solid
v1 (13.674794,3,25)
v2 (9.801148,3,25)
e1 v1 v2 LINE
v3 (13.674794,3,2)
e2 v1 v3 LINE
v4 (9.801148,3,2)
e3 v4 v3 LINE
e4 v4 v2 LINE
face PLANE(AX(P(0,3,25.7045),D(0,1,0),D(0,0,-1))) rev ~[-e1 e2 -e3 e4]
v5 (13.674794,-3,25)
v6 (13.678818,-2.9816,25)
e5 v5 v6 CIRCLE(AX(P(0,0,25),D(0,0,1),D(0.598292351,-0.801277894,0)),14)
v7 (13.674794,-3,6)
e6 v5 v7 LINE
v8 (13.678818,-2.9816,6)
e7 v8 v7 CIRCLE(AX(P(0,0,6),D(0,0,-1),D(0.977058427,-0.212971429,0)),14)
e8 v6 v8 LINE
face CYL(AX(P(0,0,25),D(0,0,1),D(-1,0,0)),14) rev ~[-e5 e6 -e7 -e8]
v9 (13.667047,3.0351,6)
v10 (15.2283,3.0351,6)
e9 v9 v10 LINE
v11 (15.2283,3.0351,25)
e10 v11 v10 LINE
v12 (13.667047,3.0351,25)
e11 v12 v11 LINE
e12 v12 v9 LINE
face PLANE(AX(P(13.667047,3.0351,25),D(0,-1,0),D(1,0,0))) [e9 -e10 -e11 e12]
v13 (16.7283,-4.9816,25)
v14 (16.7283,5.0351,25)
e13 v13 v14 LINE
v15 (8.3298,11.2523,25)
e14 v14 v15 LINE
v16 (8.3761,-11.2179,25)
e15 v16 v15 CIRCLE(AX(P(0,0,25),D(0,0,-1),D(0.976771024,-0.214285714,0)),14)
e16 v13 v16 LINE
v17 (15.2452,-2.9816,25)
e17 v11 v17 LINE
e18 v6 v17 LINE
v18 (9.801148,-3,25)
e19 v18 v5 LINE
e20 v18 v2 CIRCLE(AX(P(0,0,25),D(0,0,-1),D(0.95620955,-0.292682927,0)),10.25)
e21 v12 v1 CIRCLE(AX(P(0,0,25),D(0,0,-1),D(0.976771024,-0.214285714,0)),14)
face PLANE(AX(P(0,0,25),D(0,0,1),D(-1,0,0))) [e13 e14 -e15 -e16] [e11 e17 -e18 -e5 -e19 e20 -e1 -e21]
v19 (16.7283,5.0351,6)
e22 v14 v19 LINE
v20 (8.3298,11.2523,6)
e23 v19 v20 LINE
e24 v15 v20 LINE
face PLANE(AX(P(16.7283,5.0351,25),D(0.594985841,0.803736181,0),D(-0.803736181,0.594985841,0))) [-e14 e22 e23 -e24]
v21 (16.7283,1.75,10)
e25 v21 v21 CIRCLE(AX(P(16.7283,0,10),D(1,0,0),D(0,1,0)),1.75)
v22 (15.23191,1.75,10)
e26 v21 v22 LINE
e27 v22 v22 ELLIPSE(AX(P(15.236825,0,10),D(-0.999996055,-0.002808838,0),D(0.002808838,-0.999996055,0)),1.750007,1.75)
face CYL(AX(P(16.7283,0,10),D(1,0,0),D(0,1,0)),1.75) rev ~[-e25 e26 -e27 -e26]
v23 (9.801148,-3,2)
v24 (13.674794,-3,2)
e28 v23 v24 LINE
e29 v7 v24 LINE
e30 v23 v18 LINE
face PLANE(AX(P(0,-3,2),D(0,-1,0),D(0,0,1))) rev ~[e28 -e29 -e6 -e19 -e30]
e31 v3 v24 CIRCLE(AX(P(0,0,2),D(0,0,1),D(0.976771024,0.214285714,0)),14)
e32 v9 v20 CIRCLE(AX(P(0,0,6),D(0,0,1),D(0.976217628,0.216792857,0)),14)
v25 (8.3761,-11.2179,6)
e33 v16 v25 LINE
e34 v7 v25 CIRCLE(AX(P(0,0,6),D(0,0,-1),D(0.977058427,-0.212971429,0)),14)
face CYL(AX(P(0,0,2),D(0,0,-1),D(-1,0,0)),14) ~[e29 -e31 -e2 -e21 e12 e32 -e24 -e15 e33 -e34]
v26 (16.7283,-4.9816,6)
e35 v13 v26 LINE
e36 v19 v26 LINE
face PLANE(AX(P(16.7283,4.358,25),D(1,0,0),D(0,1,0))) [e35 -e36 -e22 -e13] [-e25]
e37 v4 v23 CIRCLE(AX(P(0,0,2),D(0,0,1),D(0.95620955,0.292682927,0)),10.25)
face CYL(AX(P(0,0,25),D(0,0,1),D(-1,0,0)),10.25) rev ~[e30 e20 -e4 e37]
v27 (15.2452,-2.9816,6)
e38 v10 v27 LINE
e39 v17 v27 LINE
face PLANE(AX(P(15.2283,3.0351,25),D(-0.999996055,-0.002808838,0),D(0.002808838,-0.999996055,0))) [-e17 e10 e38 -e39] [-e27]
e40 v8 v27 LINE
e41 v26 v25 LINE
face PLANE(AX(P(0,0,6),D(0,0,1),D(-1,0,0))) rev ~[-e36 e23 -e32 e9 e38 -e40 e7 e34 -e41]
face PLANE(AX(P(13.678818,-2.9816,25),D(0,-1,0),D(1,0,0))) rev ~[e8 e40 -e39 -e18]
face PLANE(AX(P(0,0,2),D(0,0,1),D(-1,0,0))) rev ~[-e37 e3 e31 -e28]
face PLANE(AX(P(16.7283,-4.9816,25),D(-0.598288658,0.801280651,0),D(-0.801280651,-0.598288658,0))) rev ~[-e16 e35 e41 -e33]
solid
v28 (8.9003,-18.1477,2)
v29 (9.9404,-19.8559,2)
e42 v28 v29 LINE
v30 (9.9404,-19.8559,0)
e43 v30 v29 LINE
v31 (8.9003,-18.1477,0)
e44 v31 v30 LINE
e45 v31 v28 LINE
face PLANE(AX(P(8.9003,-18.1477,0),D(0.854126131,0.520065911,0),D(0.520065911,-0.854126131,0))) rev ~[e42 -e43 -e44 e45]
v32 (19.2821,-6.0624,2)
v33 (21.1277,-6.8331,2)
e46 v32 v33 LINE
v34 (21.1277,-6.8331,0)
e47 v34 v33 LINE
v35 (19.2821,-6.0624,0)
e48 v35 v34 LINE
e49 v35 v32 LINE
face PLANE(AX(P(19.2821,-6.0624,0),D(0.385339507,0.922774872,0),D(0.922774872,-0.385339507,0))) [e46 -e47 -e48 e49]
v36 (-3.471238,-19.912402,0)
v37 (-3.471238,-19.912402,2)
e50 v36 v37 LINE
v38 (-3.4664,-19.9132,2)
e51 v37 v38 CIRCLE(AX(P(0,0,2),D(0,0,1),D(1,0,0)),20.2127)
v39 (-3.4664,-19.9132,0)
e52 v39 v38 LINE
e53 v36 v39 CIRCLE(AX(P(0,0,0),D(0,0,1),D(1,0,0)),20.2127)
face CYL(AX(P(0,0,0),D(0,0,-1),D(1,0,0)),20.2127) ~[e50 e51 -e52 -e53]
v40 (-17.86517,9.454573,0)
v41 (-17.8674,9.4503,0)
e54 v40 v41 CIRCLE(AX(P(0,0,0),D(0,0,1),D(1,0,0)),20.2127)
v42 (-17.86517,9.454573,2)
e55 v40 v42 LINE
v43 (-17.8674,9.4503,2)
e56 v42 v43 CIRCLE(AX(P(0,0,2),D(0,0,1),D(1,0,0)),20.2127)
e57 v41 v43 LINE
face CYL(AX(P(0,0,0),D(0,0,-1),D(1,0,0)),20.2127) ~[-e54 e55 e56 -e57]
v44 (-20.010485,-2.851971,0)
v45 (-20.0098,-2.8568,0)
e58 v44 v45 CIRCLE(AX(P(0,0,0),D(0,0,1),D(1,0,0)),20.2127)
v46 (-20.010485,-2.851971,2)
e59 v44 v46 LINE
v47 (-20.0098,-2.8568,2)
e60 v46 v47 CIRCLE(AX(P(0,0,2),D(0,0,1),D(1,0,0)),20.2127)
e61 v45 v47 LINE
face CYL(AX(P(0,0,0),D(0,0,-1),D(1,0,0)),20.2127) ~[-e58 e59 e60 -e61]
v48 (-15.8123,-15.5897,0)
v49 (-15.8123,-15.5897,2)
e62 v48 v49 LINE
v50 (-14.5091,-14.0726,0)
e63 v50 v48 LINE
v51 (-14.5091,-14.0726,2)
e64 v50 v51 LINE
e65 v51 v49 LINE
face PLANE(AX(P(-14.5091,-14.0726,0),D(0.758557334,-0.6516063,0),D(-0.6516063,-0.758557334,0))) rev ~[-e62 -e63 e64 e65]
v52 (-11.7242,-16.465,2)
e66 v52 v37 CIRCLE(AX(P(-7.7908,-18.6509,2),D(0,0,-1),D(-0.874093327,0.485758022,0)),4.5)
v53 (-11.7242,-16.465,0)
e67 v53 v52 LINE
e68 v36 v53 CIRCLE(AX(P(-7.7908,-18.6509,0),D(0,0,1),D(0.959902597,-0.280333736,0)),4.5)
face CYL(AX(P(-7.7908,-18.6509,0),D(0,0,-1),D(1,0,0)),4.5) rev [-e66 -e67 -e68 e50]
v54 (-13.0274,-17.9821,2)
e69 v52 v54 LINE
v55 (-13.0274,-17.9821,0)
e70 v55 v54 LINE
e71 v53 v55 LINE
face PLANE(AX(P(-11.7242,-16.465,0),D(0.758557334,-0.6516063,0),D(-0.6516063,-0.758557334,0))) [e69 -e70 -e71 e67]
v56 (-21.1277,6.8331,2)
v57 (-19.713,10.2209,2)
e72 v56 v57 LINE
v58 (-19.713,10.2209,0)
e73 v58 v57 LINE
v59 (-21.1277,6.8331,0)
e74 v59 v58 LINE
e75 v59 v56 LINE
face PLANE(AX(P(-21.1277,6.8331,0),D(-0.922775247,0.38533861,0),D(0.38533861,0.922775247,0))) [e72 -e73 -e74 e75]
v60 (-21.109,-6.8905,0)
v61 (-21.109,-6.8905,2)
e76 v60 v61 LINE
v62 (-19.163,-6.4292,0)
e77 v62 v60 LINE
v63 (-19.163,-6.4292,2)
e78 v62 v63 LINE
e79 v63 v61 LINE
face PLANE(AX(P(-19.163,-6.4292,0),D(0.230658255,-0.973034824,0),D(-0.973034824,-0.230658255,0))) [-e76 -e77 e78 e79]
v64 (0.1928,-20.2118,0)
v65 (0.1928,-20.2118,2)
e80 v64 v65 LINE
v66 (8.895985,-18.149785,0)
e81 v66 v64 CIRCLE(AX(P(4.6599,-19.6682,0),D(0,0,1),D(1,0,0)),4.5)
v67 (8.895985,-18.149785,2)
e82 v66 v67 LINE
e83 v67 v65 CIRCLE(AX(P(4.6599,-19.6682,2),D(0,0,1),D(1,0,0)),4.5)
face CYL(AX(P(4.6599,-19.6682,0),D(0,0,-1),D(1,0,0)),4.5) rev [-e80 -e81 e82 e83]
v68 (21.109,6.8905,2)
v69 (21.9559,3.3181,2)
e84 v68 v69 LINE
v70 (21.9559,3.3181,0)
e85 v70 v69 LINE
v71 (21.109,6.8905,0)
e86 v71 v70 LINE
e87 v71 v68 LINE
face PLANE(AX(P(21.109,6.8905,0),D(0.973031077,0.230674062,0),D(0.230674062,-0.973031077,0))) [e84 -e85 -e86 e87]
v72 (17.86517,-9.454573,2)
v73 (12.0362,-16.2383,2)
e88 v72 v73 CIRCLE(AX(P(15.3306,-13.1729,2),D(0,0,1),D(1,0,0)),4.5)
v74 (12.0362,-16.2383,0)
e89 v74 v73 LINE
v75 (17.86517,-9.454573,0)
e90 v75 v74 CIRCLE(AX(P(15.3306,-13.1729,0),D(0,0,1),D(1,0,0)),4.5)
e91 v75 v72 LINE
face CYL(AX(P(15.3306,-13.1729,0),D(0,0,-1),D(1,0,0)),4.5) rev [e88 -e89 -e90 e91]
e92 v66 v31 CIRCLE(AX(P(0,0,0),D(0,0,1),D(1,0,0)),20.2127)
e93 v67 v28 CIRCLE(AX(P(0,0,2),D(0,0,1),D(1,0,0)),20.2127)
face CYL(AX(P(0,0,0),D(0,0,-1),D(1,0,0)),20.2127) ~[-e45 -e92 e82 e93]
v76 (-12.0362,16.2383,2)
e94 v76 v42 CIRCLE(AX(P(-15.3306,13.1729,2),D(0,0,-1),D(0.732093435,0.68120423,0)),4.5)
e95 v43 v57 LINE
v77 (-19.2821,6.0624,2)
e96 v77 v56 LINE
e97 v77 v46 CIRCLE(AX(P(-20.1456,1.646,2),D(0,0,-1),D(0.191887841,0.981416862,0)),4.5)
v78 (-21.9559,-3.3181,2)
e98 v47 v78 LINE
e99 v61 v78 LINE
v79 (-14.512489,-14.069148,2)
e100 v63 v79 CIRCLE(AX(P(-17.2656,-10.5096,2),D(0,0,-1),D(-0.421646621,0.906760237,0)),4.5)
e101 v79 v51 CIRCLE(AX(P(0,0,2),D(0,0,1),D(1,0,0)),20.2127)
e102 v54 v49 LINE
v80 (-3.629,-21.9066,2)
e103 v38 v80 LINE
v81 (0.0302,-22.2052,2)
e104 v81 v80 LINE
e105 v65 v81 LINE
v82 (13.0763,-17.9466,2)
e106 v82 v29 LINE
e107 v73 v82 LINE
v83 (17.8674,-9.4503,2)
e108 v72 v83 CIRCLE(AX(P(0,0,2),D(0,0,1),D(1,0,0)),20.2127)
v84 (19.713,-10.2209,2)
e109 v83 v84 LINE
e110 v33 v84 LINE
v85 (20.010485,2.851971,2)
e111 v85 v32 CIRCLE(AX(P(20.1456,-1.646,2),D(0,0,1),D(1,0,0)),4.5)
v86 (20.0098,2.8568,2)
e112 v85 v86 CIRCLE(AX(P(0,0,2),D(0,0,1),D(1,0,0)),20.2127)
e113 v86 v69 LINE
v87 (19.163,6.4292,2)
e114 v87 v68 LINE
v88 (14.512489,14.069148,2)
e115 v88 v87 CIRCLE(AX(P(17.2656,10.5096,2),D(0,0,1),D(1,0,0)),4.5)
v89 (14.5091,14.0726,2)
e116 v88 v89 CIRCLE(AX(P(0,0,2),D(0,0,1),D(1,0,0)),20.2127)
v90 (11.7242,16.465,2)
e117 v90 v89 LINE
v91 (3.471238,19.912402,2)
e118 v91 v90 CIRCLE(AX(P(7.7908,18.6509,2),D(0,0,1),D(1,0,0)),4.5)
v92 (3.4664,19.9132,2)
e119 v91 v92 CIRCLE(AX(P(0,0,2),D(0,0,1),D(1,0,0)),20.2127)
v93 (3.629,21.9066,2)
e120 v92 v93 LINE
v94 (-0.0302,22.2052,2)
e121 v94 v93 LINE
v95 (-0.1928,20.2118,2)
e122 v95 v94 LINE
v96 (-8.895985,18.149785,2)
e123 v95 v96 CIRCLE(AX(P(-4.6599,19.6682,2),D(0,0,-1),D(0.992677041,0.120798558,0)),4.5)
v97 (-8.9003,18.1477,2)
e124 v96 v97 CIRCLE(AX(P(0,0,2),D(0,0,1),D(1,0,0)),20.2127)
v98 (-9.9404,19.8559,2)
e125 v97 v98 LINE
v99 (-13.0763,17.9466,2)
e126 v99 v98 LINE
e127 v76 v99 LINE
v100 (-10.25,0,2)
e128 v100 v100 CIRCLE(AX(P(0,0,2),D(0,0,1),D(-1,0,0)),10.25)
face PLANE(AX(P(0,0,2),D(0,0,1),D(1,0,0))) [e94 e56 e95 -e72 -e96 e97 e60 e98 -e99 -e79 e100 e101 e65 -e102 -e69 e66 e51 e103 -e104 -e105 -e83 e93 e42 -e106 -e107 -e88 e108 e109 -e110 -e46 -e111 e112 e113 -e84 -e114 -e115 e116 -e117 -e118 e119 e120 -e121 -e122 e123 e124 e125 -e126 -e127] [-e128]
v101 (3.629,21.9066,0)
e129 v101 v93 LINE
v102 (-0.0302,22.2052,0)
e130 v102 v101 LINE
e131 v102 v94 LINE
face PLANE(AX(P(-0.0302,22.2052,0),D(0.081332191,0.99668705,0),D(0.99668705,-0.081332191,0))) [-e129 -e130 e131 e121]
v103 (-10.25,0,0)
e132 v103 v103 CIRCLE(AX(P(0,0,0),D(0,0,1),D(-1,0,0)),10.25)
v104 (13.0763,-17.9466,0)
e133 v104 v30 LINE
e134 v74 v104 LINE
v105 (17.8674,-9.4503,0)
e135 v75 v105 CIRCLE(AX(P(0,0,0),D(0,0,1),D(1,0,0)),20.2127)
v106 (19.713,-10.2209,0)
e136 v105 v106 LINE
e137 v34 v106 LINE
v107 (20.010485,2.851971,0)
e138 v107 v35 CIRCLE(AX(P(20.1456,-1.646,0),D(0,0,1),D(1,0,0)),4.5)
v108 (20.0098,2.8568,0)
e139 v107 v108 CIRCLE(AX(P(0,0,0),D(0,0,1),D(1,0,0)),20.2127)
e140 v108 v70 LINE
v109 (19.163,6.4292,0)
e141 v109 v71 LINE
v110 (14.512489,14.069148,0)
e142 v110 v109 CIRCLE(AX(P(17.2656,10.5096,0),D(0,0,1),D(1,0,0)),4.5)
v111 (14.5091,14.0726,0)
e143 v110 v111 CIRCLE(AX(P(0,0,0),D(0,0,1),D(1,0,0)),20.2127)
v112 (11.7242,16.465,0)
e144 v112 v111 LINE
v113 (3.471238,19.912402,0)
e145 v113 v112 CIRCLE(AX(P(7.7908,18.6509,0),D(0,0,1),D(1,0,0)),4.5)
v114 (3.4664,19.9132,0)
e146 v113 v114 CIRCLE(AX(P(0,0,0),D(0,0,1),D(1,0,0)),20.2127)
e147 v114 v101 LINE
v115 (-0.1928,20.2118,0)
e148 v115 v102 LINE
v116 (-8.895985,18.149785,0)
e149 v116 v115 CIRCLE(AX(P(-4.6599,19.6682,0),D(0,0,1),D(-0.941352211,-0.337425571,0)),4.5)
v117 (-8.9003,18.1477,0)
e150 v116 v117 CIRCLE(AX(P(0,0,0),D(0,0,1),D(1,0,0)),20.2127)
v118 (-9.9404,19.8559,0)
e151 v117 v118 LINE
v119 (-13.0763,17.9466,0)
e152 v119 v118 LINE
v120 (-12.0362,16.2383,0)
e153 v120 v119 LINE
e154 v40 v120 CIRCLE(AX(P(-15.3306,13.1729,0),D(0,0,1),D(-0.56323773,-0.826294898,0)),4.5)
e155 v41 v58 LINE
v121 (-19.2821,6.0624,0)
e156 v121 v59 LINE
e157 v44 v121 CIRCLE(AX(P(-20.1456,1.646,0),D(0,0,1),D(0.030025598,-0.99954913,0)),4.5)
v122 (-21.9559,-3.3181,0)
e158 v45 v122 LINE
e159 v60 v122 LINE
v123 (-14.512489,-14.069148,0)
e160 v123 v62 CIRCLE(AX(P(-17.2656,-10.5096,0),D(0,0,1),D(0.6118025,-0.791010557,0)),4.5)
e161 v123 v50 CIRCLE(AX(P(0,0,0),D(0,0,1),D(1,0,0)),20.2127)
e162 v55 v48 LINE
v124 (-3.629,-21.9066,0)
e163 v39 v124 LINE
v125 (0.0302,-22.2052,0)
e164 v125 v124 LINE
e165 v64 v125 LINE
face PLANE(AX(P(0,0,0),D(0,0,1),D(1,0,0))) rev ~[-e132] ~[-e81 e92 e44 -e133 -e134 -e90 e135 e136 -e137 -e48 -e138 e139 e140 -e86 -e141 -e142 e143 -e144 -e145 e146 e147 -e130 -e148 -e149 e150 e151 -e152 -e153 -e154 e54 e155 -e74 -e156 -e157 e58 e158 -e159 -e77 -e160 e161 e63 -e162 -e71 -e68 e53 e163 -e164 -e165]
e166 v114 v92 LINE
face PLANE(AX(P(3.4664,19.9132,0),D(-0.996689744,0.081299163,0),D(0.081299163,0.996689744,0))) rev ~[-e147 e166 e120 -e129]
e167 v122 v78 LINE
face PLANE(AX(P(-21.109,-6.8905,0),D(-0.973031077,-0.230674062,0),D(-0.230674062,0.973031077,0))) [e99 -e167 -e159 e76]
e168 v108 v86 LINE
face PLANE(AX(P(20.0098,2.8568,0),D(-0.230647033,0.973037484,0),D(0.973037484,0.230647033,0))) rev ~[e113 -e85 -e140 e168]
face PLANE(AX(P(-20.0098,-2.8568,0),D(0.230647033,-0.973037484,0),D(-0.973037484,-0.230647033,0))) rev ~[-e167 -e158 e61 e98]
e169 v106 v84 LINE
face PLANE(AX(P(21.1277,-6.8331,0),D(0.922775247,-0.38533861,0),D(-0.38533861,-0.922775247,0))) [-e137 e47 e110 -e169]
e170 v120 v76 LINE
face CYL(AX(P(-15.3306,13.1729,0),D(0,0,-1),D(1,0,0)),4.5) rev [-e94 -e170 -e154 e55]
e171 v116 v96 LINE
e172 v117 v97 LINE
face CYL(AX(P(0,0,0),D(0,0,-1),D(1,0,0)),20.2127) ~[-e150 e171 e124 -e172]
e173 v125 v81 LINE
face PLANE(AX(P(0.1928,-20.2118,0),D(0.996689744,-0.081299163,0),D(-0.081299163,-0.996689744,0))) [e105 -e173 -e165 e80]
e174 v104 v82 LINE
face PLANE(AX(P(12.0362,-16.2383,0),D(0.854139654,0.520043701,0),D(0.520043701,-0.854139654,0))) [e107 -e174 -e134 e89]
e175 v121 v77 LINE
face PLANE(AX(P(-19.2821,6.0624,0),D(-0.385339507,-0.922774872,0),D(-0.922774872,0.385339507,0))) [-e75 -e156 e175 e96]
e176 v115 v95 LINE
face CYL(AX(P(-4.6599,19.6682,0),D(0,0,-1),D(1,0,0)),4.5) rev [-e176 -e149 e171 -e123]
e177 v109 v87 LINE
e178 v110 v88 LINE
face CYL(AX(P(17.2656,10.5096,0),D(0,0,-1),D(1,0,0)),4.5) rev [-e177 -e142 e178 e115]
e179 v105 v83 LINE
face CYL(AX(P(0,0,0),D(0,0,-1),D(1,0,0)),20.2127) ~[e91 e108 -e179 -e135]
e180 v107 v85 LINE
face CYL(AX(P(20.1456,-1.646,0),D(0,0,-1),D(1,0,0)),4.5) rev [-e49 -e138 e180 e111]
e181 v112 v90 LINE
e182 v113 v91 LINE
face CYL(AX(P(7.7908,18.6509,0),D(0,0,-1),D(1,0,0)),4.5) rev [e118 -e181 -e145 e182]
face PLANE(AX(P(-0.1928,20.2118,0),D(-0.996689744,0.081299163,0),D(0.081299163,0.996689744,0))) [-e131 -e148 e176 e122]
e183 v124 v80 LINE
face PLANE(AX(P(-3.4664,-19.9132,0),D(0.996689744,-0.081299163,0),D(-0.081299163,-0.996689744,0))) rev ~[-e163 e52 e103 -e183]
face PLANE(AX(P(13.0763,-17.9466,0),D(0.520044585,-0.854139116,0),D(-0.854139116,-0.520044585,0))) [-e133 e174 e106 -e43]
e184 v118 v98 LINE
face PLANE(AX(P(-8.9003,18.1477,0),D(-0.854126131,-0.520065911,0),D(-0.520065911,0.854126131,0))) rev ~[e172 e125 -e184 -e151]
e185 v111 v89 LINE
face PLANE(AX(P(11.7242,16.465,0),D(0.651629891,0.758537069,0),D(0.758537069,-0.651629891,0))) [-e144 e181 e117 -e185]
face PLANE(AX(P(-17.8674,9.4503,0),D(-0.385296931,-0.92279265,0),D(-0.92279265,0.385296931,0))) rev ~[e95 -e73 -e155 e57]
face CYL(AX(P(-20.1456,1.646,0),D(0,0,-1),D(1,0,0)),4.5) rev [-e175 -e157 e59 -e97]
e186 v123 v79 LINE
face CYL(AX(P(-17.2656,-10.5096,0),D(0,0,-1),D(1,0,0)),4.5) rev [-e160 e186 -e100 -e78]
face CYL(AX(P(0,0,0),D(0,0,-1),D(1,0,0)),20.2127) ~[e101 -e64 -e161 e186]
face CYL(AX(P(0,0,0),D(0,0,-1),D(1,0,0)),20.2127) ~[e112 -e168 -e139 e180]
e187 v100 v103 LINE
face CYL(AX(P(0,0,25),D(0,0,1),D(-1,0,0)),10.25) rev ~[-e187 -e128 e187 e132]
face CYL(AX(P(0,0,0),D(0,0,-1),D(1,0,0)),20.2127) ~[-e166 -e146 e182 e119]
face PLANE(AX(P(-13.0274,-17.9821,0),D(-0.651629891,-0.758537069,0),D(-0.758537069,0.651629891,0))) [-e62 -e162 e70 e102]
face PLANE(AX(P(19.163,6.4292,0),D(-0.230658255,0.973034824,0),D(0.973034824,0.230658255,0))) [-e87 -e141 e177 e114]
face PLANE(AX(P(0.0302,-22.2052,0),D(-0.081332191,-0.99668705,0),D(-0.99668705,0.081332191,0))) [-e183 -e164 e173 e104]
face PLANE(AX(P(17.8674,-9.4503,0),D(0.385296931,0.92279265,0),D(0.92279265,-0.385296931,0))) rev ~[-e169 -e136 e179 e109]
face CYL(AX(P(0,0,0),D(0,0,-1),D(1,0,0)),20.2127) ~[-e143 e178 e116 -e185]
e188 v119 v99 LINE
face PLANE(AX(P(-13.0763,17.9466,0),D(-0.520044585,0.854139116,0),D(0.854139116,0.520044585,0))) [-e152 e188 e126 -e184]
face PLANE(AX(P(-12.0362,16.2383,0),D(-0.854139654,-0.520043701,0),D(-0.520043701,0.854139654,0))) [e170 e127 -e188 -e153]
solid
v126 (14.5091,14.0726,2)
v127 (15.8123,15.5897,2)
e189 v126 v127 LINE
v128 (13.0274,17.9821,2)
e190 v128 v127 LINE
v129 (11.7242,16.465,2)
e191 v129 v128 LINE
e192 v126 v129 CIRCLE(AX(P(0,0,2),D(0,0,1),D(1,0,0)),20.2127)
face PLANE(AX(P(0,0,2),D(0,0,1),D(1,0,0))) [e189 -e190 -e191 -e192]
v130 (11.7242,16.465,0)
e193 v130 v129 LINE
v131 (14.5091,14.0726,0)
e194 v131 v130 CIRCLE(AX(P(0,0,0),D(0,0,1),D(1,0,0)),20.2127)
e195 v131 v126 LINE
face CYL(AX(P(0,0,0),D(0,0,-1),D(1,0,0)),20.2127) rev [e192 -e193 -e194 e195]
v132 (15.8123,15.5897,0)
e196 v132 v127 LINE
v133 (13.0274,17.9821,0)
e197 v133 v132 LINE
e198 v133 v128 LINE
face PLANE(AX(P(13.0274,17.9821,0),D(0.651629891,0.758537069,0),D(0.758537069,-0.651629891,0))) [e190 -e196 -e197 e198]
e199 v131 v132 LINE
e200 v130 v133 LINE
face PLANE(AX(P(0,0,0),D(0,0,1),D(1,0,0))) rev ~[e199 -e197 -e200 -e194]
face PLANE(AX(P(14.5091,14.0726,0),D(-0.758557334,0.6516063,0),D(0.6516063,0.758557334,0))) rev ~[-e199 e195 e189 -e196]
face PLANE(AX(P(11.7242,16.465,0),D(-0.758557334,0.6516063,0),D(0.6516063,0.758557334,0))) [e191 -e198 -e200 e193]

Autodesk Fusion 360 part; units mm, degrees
sketch "Sketch1" plane through (0, 0, 0) normal (0, 0, 1) x (1, 0, 0)
  circle A0 centre (0, 0) radius 20.2127
  circle A1 centre (7.7908, 18.6509) radius 4.5
  line L0 (11.7242, 16.465) -> (14.5091, 14.0726)
  line L1 (14.5091, 14.0726) -> (15.8123, 15.5897)
  line L2 (11.7242, 16.465) -> (13.0274, 17.9821)
  line L3 (13.0274, 17.9821) -> (15.8123, 15.5897)
  circle A2 centre (-4.6599, 19.6682) radius 4.5
  circle A3 centre (0, 0) radius 20.2127
  circle A4 centre (-15.3306, 13.1729) radius 4.5
  circle A5 centre (0, 0) radius 20.2127
  circle A6 centre (-20.1456, 1.646) radius 4.5
  circle A7 centre (0, 0) radius 20.2127
  circle A8 centre (-17.2656, -10.5096) radius 4.5
  circle A9 centre (0, 0) radius 20.2127
  circle A10 centre (-7.7908, -18.6509) radius 4.5
  circle A11 centre (0, 0) radius 20.2127
  circle A12 centre (4.6599, -19.6682) radius 4.5
  circle A13 centre (0, 0) radius 20.2127
  circle A14 centre (15.3306, -13.1729) radius 4.5
  circle A15 centre (0, 0) radius 20.2127
  circle A16 centre (20.1456, -1.646) radius 4.5
  circle A17 centre (0, 0) radius 20.2127
  circle A18 centre (17.2656, 10.5096) radius 4.5
  circle A19 centre (0, 0) radius 20.2127
  line L4 (-0.1928, 20.2118) -> (-0.0302, 22.2052)
  line L5 (-0.0302, 22.2052) -> (3.629, 21.9066)
  line L6 (3.4664, 19.9132) -> (3.629, 21.9066)
  circle A20 centre (0, 0) radius 20.2127
  line L7 (-12.0362, 16.2383) -> (-13.0763, 17.9466)
  line L8 (-13.0763, 17.9466) -> (-9.9404, 19.8559)
  line L9 (-8.9003, 18.1477) -> (-9.9404, 19.8559)
  circle A21 centre (0, 0) radius 20.2127
  line L10 (-19.2821, 6.0624) -> (-21.1277, 6.8331)
  line L11 (-21.1277, 6.8331) -> (-19.713, 10.2209)
  line L12 (-17.8674, 9.4503) -> (-19.713, 10.2209)
  circle A22 centre (0, 0) radius 20.2127
  line L13 (-19.163, -6.4292) -> (-21.109, -6.8905)
  line L14 (-21.109, -6.8905) -> (-21.9559, -3.3181)
  line L15 (-20.0098, -2.8568) -> (-21.9559, -3.3181)
  circle A23 centre (0, 0) radius 20.2127
  line L16 (-11.7242, -16.465) -> (-13.0274, -17.9821)
  line L17 (-13.0274, -17.9821) -> (-15.8123, -15.5897)
  line L18 (-14.5091, -14.0726) -> (-15.8123, -15.5897)
  circle A24 centre (0, 0) radius 20.2127
  line L19 (0.1928, -20.2118) -> (0.0302, -22.2052)
  line L20 (0.0302, -22.2052) -> (-3.629, -21.9066)
  line L21 (-3.4664, -19.9132) -> (-3.629, -21.9066)
  circle A25 centre (0, 0) radius 20.2127
  line L22 (12.0362, -16.2383) -> (13.0763, -17.9466)
  line L23 (13.0763, -17.9466) -> (9.9404, -19.8559)
  line L24 (8.9003, -18.1477) -> (9.9404, -19.8559)
  circle A26 centre (0, 0) radius 20.2127
  line L25 (19.2821, -6.0624) -> (21.1277, -6.8331)
  line L26 (21.1277, -6.8331) -> (19.713, -10.2209)
  line L27 (17.8674, -9.4503) -> (19.713, -10.2209)
  circle A27 centre (0, 0) radius 20.2127
  line L28 (19.163, 6.4292) -> (21.109, 6.8905)
  line L29 (21.109, 6.8905) -> (21.9559, 3.3181)
  line L30 (20.0098, 2.8568) -> (21.9559, 3.3181)
  circle A28 centre (0, 0) radius 20.2127
  dimension "d1" = 40.4254
  dimension "d2" = 9
  dimension "d11" = 2
  dimension "d12" = 2
  dimension "d14" = 360
  dimension "d16" = 360
extrude "Extrude1" add sketch "Sketch1" along normal blind 2 contours A0 A1 L0 A2 A3 A4 A5 A6 A7 A8 A9 A10 A11 A12 A13 A14 A15 A16 A17 A18 A19 A20 A21 A22 A23 A24 A25 A26 A27 A28 | A0 A3 A5 A7 A9 A11 A13 A15 A17 A19 A20 A21 A22 A23 A24 A25 A26 A27 L28 L29 L30 A28 | A0 A3 A5 A7 A9 A11 A13 A15 A17 A19 A20 A21 A22 A23 A24 A25 A26 L25 L26 L27 A27 A28 | A0 L1 L2 L3 A3 A5 A7 A9 A11 A13 A15 A17 A19 A20 A21 A22 A23 A24 A25 A26 A27 A28 | A0 A3 A5 A7 A9 A11 A13 A15 A17 A19 A20 A21 A22 A23 A24 A25 L22 L23 L24 A26 A27 A28 | A0 A3 A5 A7 A9 A11 A13 A15 A17 A19 L4 L5 L6 A20 A21 A22 A23 A24 A25 A26 A27 A28 | A0 A3 A5 A7 A9 A11 A13 A15 A17 A19 A20 A21 A22 A23 A24 L19 L20 L21 A25 A26 A27 A28 | A0 A3 A5 A7 A9 A11 A13 A15 A17 A19 A20 L7 L8 L9 A21 A22 A23 A24 A25 A26 A27 A28 | A0 A3 A5 A7 A9 A11 A13 A15 A17 A19 A20 A21 A22 A23 L16 L17 L18 A24 A25 A26 A27 A28 | A0 A3 A5 A7 A9 A11 A13 A15 A17 A19 A20 A21 L10 L11 L12 A22 A23 A24 A25 A26 A27 A28 | A0 A3 A5 A7 A9 A11 A13 A15 A17 A19 A20 A21 A22 L13 L14 L15 A23 A24 A25 A26 A27 A28 makes body 1 at (-1.9939, 0.1629, 0)
sketch "Sketch14" plane through (0, 0, 2) normal (0, 0, 1) x (-1, 0, 0)
  arc A0 (-20.0105, -2.852) -> (-20.0098, -2.8568) centre (0, 0) ccw
  line L0 (-20.0098, -2.8568) -> (-21.9559, -3.3181)
  line L1 (-21.9559, -3.3181) -> (-21.109, -6.8905)
  line L2 (-21.109, -6.8905) -> (-19.163, -6.4292)
  arc A1 (-14.5125, -14.0692) -> (-19.163, -6.4292) centre (-17.2656, -10.5096) ccw
  arc A2 (-14.5125, -14.0692) -> (-14.5091, -14.0726) centre (0, 0) ccw
  line L3 (-14.5091, -14.0726) -> (-11.7242, -16.465)
  arc A3 (-3.4712, -19.9124) -> (-11.7242, -16.465) centre (-7.7908, -18.6509) ccw
  arc A4 (-3.4712, -19.9124) -> (-3.4664, -19.9132) centre (0, 0) ccw
  line L4 (-3.4664, -19.9132) -> (-3.629, -21.9066)
  line L5 (-3.629, -21.9066) -> (0.0302, -22.2052)
  line L6 (0.0302, -22.2052) -> (0.1928, -20.2118)
  arc A5 (8.896, -18.1498) -> (0.1928, -20.2118) centre (4.6599, -19.6682) ccw
  arc A6 (8.896, -18.1498) -> (8.9003, -18.1477) centre (0, 0) ccw
  line L7 (8.9003, -18.1477) -> (9.9404, -19.8559)
  line L8 (9.9404, -19.8559) -> (13.0763, -17.9466)
  line L9 (13.0763, -17.9466) -> (12.0362, -16.2383)
  arc A7 (17.8652, -9.4546) -> (12.0362, -16.2383) centre (15.3306, -13.1729) ccw
  arc A8 (17.8652, -9.4546) -> (17.8674, -9.4503) centre (0, 0) ccw
  line L10 (17.8674, -9.4503) -> (19.713, -10.2209)
  line L11 (19.713, -10.2209) -> (21.1277, -6.8331)
  line L12 (21.1277, -6.8331) -> (19.2821, -6.0624)
  arc A9 (20.0105, 2.852) -> (19.2821, -6.0624) centre (20.1456, -1.646) ccw
  arc A10 (20.0105, 2.852) -> (20.0098, 2.8568) centre (0, 0) ccw
  line L13 (20.0098, 2.8568) -> (21.9559, 3.3181)
  line L14 (21.9559, 3.3181) -> (21.109, 6.8905)
  line L15 (21.109, 6.8905) -> (19.163, 6.4292)
  arc A11 (14.5125, 14.0692) -> (19.163, 6.4292) centre (17.2656, 10.5096) ccw
  arc A12 (14.5125, 14.0692) -> (14.5091, 14.0726) centre (0, 0) ccw
  line L16 (14.5091, 14.0726) -> (15.8123, 15.5897)
  line L17 (15.8123, 15.5897) -> (13.0274, 17.9821)
  line L18 (13.0274, 17.9821) -> (11.7242, 16.465)
  arc A13 (3.4712, 19.9124) -> (11.7242, 16.465) centre (7.7908, 18.6509) ccw
  arc A14 (3.4712, 19.9124) -> (3.4664, 19.9132) centre (0, 0) ccw
  line L19 (3.4664, 19.9132) -> (3.629, 21.9066)
  line L20 (3.629, 21.9066) -> (-0.0302, 22.2052)
  line L21 (-0.0302, 22.2052) -> (-0.1928, 20.2118)
  arc A15 (-8.896, 18.1498) -> (-0.1928, 20.2118) centre (-4.6599, 19.6682) ccw
  arc A16 (-8.896, 18.1498) -> (-8.9003, 18.1477) centre (0, 0) ccw
  line L22 (-8.9003, 18.1477) -> (-9.9404, 19.8559)
  line L23 (-9.9404, 19.8559) -> (-13.0763, 17.9466)
  line L24 (-13.0763, 17.9466) -> (-12.0362, 16.2383)
  arc A17 (-17.8652, 9.4546) -> (-12.0362, 16.2383) centre (-15.3306, 13.1729) ccw
  arc A18 (-17.8652, 9.4546) -> (-17.8674, 9.4503) centre (0, 0) ccw
  line L25 (-17.8674, 9.4503) -> (-19.713, 10.2209)
  line L26 (-19.713, 10.2209) -> (-21.1277, 6.8331)
  line L27 (-21.1277, 6.8331) -> (-19.2821, 6.0624)
  arc A19 (-20.0105, -2.852) -> (-19.2821, 6.0624) centre (-20.1456, 1.646) ccw
  circle A20 centre (-7, 0) radius 2
  circle A21 centre (7, 0) radius 2
  dimension "d57" = 4
extrude "Extrude12" cut sketch "Sketch14" against normal blind 3 contours A20 | A21 bodies 1
sketch "Sketch4" plane through (0, 0, 2) normal (0, 0, 1) x (-1, 0, 0)
  arc A0 (-20.0105, -2.852) -> (-20.0098, -2.8568) centre (0, 0) ccw
  line L0 (-20.0098, -2.8568) -> (-21.9559, -3.3181)
  line L1 (-21.9559, -3.3181) -> (-21.109, -6.8905)
  line L2 (-21.109, -6.8905) -> (-19.163, -6.4292)
  arc A1 (-14.5125, -14.0692) -> (-19.163, -6.4292) centre (-17.2656, -10.5096) ccw
  arc A2 (-14.5125, -14.0692) -> (-14.5091, -14.0726) centre (0, 0) ccw
  line L3 (-14.5091, -14.0726) -> (-11.7242, -16.465)
  arc A3 (-3.4712, -19.9124) -> (-11.7242, -16.465) centre (-7.7908, -18.6509) ccw
  arc A4 (-3.4712, -19.9124) -> (-3.4664, -19.9132) centre (0, 0) ccw
  line L4 (-3.4664, -19.9132) -> (-3.629, -21.9066)
  line L5 (-3.629, -21.9066) -> (0.0302, -22.2052)
  line L6 (0.0302, -22.2052) -> (0.1928, -20.2118)
  arc A5 (8.896, -18.1498) -> (0.1928, -20.2118) centre (4.6599, -19.6682) ccw
  arc A6 (8.896, -18.1498) -> (8.9003, -18.1477) centre (0, 0) ccw
  line L7 (8.9003, -18.1477) -> (9.9404, -19.8559)
  line L8 (9.9404, -19.8559) -> (13.0763, -17.9466)
  line L9 (13.0763, -17.9466) -> (12.0362, -16.2383)
  arc A7 (17.8652, -9.4546) -> (12.0362, -16.2383) centre (15.3306, -13.1729) ccw
  arc A8 (17.8652, -9.4546) -> (17.8674, -9.4503) centre (0, 0) ccw
  line L10 (17.8674, -9.4503) -> (19.713, -10.2209)
  line L11 (19.713, -10.2209) -> (21.1277, -6.8331)
  line L12 (21.1277, -6.8331) -> (19.2821, -6.0624)
  arc A9 (20.0105, 2.852) -> (19.2821, -6.0624) centre (20.1456, -1.646) ccw
  arc A10 (20.0105, 2.852) -> (20.0098, 2.8568) centre (0, 0) ccw
  line L13 (20.0098, 2.8568) -> (21.9559, 3.3181)
  line L14 (21.9559, 3.3181) -> (21.109, 6.8905)
  line L15 (21.109, 6.8905) -> (19.163, 6.4292)
  arc A11 (14.5125, 14.0692) -> (19.163, 6.4292) centre (17.2656, 10.5096) ccw
  arc A12 (14.5125, 14.0692) -> (14.5091, 14.0726) centre (0, 0) ccw
  line L16 (14.5091, 14.0726) -> (15.8123, 15.5897)
  line L17 (15.8123, 15.5897) -> (13.0274, 17.9821)
  line L18 (13.0274, 17.9821) -> (11.7242, 16.465)
  arc A13 (3.4712, 19.9124) -> (11.7242, 16.465) centre (7.7908, 18.6509) ccw
  arc A14 (3.4712, 19.9124) -> (3.4664, 19.9132) centre (0, 0) ccw
  line L19 (3.4664, 19.9132) -> (3.629, 21.9066)
  line L20 (3.629, 21.9066) -> (-0.0302, 22.2052)
  line L21 (-0.0302, 22.2052) -> (-0.1928, 20.2118)
  arc A15 (-8.896, 18.1498) -> (-0.1928, 20.2118) centre (-4.6599, 19.6682) ccw
  arc A16 (-8.896, 18.1498) -> (-8.9003, 18.1477) centre (0, 0) ccw
  line L22 (-8.9003, 18.1477) -> (-9.9404, 19.8559)
  line L23 (-9.9404, 19.8559) -> (-13.0763, 17.9466)
  line L24 (-13.0763, 17.9466) -> (-12.0362, 16.2383)
  arc A17 (-17.8652, 9.4546) -> (-12.0362, 16.2383) centre (-15.3306, 13.1729) ccw
  arc A18 (-17.8652, 9.4546) -> (-17.8674, 9.4503) centre (0, 0) ccw
  line L25 (-17.8674, 9.4503) -> (-19.713, 10.2209)
  line L26 (-19.713, 10.2209) -> (-21.1277, 6.8331)
  line L27 (-21.1277, 6.8331) -> (-19.2821, 6.0624)
  arc A19 (-20.0105, -2.852) -> (-19.2821, 6.0624) centre (-20.1456, 1.646) ccw
  circle A20 centre (0, 0) radius 10
  circle A21 centre (7, 0) radius 2
  circle A22 centre (-7, 0) radius 2
  dimension "d23" = 20
sketch "Sketch5" plane through (0, 0, 2) normal (0, 0, 1) x (-1, 0, 0)
extrude "Extrude4" cut sketch "Sketch4" against normal blind 2 contours A20 | A21 | A22 bodies 1
sketch "Sketch8" plane through (0, 0, 2) normal (0, 0, 1) x (-1, 0, 0)
  circle A0 centre (0, 0) radius 10
  arc A1 (-20.0105, -2.852) -> (-20.0098, -2.8568) centre (0, 0) ccw
  line L0 (-20.0098, -2.8568) -> (-21.9559, -3.3181)
  line L1 (-21.9559, -3.3181) -> (-21.109, -6.8905)
  line L2 (-21.109, -6.8905) -> (-19.163, -6.4292)
  arc A2 (-14.5125, -14.0692) -> (-19.163, -6.4292) centre (-17.2656, -10.5096) ccw
  arc A3 (-14.5125, -14.0692) -> (-14.5091, -14.0726) centre (0, 0) ccw
  line L3 (-14.5091, -14.0726) -> (-11.7242, -16.465)
  arc A4 (-3.4712, -19.9124) -> (-11.7242, -16.465) centre (-7.7908, -18.6509) ccw
  arc A5 (-3.4712, -19.9124) -> (-3.4664, -19.9132) centre (0, 0) ccw
  line L4 (-3.4664, -19.9132) -> (-3.629, -21.9066)
  line L5 (-3.629, -21.9066) -> (0.0302, -22.2052)
  line L6 (0.0302, -22.2052) -> (0.1928, -20.2118)
  arc A6 (8.896, -18.1498) -> (0.1928, -20.2118) centre (4.6599, -19.6682) ccw
  arc A7 (8.896, -18.1498) -> (8.9003, -18.1477) centre (0, 0) ccw
  line L7 (8.9003, -18.1477) -> (9.9404, -19.8559)
  line L8 (9.9404, -19.8559) -> (13.0763, -17.9466)
  line L9 (13.0763, -17.9466) -> (12.0362, -16.2383)
  arc A8 (17.8652, -9.4546) -> (12.0362, -16.2383) centre (15.3306, -13.1729) ccw
  arc A9 (17.8652, -9.4546) -> (17.8674, -9.4503) centre (0, 0) ccw
  line L10 (17.8674, -9.4503) -> (19.713, -10.2209)
  line L11 (19.713, -10.2209) -> (21.1277, -6.8331)
  line L12 (21.1277, -6.8331) -> (19.2821, -6.0624)
  arc A10 (20.0105, 2.852) -> (19.2821, -6.0624) centre (20.1456, -1.646) ccw
  arc A11 (20.0105, 2.852) -> (20.0098, 2.8568) centre (0, 0) ccw
  line L13 (20.0098, 2.8568) -> (21.9559, 3.3181)
  line L14 (21.9559, 3.3181) -> (21.109, 6.8905)
  line L15 (21.109, 6.8905) -> (19.163, 6.4292)
  arc A12 (14.5125, 14.0692) -> (19.163, 6.4292) centre (17.2656, 10.5096) ccw
  arc A13 (14.5125, 14.0692) -> (14.5091, 14.0726) centre (0, 0) ccw
  line L16 (14.5091, 14.0726) -> (15.8123, 15.5897)
  line L17 (15.8123, 15.5897) -> (13.0274, 17.9821)
  line L18 (13.0274, 17.9821) -> (11.7242, 16.465)
  arc A14 (3.4712, 19.9124) -> (11.7242, 16.465) centre (7.7908, 18.6509) ccw
  arc A15 (3.4712, 19.9124) -> (3.4664, 19.9132) centre (0, 0) ccw
  line L19 (3.4664, 19.9132) -> (3.629, 21.9066)
  line L20 (3.629, 21.9066) -> (-0.0302, 22.2052)
  line L21 (-0.0302, 22.2052) -> (-0.1928, 20.2118)
  arc A16 (-8.896, 18.1498) -> (-0.1928, 20.2118) centre (-4.6599, 19.6682) ccw
  arc A17 (-8.896, 18.1498) -> (-8.9003, 18.1477) centre (0, 0) ccw
  line L22 (-8.9003, 18.1477) -> (-9.9404, 19.8559)
  line L23 (-9.9404, 19.8559) -> (-13.0763, 17.9466)
  line L24 (-13.0763, 17.9466) -> (-12.0362, 16.2383)
  arc A18 (-17.8652, 9.4546) -> (-12.0362, 16.2383) centre (-15.3306, 13.1729) ccw
  arc A19 (-17.8652, 9.4546) -> (-17.8674, 9.4503) centre (0, 0) ccw
  line L25 (-17.8674, 9.4503) -> (-19.713, 10.2209)
  line L26 (-19.713, 10.2209) -> (-21.1277, 6.8331)
  line L27 (-21.1277, 6.8331) -> (-19.2821, 6.0624)
  arc A20 (-20.0105, -2.852) -> (-19.2821, 6.0624) centre (-20.1456, 1.646) ccw
  circle A21 centre (0, 0) radius 14
extrude "Extrude7" add sketch "Sketch8" along normal blind 23 separate body contours A21 makes body 2
sketch "Sketch9" plane through (0, 0, 0) normal (1, 0, 0) x (0, 1, 0)
  line L0 (0, 1.8522) -> (0, 25.8522)
  line L1 (-3, 25.7045) -> (3, 25.7045)
  line L2 (3, 25.7045) -> (3, 2)
  line L3 (3, 2) -> (-3, 2)
  line L4 (-3, 2) -> (-3, 25.7045)
  line L5 (-3, 25.7045) -> (3, 2) construction
  line L6 (3, 25.7045) -> (-3, 2) construction
  point P0 (0, 13.8522)
  dimension "d35" = 24
  dimension "d36" = 6
extrude "Extrude8" cut sketch "Sketch9" along normal blind 20 bodies 2
sketch "Sketch10" plane through (0, 0, 25) normal (0, 0, 1) x (-1, 0, 0)
  line L0 (-13.6748, 3) -> (-9.5394, 3)
  arc A0 (-9.5394, -3) -> (-9.5394, 3) centre (0, 0) ccw
  line L1 (-9.5394, -3) -> (-13.6748, -3)
  arc A1 (-13.6748, -3) -> (-13.6748, 3) centre (0, 0) ccw
sketch "Sketch11" plane through (0, 0, 25) normal (0, 0, 1) x (-1, 0, 0)
  circle A0 centre (0, 0) radius 10
  circle A1 centre (0, 0) radius 14
  line L0 (-9.5452, 2.9816) -> (-15.2452, 2.9816)
  line L1 (-9.5283, -3.0351) -> (-15.2283, -3.0351)
  line L2 (-15.2283, -3.0351) -> (-15.2452, 2.9816)
  line L3 (-9.5283, -3.0351) -> (-9.5283, -5.0351)
  line L4 (-9.5283, -5.0351) -> (-13.0632, -5.0351)
  line L5 (-16.7283, -4.358) -> (-16.7283, -5.0351)
  line L6 (-16.7283, -5.0351) -> (-13.0632, -5.0351)
  line L7 (-9.5452, 2.9816) -> (-9.5452, 4.9816)
  line L8 (-9.5452, 4.9816) -> (-13.0837, 4.9816)
  line L9 (-13.0837, 4.9816) -> (-16.7283, 4.9816)
  line L10 (-16.7283, 4.9816) -> (-16.7283, -4.358)
  line L11 (-16.7283, 4.9816) -> (-8.3761, 11.2179)
  line L12 (-16.7283, -5.0351) -> (-8.3298, -11.2523)
  dimension "d39" = 28
  dimension "d41" = 5.7
  dimension "d42" = 5.7
  dimension "d43" = 2
  dimension "d45" = 2
  dimension "d56" = 1.5
extrude "Extrude9" add sketch "Sketch11" against normal blind 19 contours A1 L0 L1 L2 L5 L6 L9 L10 | A1 L9 L11 | A1 L6 L12 bodies 2
sketch "Sketch12" plane through (16.7283, 0, 0) normal (1, 0, 0) x (0, 1, 0)
  line L0 (5.0351, 25) -> (-4.9816, 25)
  line L1 (-4.9816, 6) -> (5.0351, 6)
  circle A0 centre (0, 10) radius 1.75
  line L2 (14, 2) -> (-14, 2)
  line L3 (-4.9816, 25) -> (-4.9816, 6)
  line L4 (5.0351, 6) -> (5.0351, 25)
  dimension "d48" = 3.5
  dimension "d49" = 8
extrude "Extrude10" cut sketch "Sketch12" against normal blind 3 contours A0 bodies 2
sketch "Sketch13" plane through (0, 0, 25) normal (0, 0, 1) x (-1, 0, 0)
  circle A0 centre (0, 0) radius 10.25
  dimension "d52" = 20.5
extrude "Extrude11" cut sketch "Sketch13" against normal blind 30 bodies 1 2
equation "d41 = 5.2 mm + 0.5 mm"
equation "d46 = -23 mm + 4 mm"
